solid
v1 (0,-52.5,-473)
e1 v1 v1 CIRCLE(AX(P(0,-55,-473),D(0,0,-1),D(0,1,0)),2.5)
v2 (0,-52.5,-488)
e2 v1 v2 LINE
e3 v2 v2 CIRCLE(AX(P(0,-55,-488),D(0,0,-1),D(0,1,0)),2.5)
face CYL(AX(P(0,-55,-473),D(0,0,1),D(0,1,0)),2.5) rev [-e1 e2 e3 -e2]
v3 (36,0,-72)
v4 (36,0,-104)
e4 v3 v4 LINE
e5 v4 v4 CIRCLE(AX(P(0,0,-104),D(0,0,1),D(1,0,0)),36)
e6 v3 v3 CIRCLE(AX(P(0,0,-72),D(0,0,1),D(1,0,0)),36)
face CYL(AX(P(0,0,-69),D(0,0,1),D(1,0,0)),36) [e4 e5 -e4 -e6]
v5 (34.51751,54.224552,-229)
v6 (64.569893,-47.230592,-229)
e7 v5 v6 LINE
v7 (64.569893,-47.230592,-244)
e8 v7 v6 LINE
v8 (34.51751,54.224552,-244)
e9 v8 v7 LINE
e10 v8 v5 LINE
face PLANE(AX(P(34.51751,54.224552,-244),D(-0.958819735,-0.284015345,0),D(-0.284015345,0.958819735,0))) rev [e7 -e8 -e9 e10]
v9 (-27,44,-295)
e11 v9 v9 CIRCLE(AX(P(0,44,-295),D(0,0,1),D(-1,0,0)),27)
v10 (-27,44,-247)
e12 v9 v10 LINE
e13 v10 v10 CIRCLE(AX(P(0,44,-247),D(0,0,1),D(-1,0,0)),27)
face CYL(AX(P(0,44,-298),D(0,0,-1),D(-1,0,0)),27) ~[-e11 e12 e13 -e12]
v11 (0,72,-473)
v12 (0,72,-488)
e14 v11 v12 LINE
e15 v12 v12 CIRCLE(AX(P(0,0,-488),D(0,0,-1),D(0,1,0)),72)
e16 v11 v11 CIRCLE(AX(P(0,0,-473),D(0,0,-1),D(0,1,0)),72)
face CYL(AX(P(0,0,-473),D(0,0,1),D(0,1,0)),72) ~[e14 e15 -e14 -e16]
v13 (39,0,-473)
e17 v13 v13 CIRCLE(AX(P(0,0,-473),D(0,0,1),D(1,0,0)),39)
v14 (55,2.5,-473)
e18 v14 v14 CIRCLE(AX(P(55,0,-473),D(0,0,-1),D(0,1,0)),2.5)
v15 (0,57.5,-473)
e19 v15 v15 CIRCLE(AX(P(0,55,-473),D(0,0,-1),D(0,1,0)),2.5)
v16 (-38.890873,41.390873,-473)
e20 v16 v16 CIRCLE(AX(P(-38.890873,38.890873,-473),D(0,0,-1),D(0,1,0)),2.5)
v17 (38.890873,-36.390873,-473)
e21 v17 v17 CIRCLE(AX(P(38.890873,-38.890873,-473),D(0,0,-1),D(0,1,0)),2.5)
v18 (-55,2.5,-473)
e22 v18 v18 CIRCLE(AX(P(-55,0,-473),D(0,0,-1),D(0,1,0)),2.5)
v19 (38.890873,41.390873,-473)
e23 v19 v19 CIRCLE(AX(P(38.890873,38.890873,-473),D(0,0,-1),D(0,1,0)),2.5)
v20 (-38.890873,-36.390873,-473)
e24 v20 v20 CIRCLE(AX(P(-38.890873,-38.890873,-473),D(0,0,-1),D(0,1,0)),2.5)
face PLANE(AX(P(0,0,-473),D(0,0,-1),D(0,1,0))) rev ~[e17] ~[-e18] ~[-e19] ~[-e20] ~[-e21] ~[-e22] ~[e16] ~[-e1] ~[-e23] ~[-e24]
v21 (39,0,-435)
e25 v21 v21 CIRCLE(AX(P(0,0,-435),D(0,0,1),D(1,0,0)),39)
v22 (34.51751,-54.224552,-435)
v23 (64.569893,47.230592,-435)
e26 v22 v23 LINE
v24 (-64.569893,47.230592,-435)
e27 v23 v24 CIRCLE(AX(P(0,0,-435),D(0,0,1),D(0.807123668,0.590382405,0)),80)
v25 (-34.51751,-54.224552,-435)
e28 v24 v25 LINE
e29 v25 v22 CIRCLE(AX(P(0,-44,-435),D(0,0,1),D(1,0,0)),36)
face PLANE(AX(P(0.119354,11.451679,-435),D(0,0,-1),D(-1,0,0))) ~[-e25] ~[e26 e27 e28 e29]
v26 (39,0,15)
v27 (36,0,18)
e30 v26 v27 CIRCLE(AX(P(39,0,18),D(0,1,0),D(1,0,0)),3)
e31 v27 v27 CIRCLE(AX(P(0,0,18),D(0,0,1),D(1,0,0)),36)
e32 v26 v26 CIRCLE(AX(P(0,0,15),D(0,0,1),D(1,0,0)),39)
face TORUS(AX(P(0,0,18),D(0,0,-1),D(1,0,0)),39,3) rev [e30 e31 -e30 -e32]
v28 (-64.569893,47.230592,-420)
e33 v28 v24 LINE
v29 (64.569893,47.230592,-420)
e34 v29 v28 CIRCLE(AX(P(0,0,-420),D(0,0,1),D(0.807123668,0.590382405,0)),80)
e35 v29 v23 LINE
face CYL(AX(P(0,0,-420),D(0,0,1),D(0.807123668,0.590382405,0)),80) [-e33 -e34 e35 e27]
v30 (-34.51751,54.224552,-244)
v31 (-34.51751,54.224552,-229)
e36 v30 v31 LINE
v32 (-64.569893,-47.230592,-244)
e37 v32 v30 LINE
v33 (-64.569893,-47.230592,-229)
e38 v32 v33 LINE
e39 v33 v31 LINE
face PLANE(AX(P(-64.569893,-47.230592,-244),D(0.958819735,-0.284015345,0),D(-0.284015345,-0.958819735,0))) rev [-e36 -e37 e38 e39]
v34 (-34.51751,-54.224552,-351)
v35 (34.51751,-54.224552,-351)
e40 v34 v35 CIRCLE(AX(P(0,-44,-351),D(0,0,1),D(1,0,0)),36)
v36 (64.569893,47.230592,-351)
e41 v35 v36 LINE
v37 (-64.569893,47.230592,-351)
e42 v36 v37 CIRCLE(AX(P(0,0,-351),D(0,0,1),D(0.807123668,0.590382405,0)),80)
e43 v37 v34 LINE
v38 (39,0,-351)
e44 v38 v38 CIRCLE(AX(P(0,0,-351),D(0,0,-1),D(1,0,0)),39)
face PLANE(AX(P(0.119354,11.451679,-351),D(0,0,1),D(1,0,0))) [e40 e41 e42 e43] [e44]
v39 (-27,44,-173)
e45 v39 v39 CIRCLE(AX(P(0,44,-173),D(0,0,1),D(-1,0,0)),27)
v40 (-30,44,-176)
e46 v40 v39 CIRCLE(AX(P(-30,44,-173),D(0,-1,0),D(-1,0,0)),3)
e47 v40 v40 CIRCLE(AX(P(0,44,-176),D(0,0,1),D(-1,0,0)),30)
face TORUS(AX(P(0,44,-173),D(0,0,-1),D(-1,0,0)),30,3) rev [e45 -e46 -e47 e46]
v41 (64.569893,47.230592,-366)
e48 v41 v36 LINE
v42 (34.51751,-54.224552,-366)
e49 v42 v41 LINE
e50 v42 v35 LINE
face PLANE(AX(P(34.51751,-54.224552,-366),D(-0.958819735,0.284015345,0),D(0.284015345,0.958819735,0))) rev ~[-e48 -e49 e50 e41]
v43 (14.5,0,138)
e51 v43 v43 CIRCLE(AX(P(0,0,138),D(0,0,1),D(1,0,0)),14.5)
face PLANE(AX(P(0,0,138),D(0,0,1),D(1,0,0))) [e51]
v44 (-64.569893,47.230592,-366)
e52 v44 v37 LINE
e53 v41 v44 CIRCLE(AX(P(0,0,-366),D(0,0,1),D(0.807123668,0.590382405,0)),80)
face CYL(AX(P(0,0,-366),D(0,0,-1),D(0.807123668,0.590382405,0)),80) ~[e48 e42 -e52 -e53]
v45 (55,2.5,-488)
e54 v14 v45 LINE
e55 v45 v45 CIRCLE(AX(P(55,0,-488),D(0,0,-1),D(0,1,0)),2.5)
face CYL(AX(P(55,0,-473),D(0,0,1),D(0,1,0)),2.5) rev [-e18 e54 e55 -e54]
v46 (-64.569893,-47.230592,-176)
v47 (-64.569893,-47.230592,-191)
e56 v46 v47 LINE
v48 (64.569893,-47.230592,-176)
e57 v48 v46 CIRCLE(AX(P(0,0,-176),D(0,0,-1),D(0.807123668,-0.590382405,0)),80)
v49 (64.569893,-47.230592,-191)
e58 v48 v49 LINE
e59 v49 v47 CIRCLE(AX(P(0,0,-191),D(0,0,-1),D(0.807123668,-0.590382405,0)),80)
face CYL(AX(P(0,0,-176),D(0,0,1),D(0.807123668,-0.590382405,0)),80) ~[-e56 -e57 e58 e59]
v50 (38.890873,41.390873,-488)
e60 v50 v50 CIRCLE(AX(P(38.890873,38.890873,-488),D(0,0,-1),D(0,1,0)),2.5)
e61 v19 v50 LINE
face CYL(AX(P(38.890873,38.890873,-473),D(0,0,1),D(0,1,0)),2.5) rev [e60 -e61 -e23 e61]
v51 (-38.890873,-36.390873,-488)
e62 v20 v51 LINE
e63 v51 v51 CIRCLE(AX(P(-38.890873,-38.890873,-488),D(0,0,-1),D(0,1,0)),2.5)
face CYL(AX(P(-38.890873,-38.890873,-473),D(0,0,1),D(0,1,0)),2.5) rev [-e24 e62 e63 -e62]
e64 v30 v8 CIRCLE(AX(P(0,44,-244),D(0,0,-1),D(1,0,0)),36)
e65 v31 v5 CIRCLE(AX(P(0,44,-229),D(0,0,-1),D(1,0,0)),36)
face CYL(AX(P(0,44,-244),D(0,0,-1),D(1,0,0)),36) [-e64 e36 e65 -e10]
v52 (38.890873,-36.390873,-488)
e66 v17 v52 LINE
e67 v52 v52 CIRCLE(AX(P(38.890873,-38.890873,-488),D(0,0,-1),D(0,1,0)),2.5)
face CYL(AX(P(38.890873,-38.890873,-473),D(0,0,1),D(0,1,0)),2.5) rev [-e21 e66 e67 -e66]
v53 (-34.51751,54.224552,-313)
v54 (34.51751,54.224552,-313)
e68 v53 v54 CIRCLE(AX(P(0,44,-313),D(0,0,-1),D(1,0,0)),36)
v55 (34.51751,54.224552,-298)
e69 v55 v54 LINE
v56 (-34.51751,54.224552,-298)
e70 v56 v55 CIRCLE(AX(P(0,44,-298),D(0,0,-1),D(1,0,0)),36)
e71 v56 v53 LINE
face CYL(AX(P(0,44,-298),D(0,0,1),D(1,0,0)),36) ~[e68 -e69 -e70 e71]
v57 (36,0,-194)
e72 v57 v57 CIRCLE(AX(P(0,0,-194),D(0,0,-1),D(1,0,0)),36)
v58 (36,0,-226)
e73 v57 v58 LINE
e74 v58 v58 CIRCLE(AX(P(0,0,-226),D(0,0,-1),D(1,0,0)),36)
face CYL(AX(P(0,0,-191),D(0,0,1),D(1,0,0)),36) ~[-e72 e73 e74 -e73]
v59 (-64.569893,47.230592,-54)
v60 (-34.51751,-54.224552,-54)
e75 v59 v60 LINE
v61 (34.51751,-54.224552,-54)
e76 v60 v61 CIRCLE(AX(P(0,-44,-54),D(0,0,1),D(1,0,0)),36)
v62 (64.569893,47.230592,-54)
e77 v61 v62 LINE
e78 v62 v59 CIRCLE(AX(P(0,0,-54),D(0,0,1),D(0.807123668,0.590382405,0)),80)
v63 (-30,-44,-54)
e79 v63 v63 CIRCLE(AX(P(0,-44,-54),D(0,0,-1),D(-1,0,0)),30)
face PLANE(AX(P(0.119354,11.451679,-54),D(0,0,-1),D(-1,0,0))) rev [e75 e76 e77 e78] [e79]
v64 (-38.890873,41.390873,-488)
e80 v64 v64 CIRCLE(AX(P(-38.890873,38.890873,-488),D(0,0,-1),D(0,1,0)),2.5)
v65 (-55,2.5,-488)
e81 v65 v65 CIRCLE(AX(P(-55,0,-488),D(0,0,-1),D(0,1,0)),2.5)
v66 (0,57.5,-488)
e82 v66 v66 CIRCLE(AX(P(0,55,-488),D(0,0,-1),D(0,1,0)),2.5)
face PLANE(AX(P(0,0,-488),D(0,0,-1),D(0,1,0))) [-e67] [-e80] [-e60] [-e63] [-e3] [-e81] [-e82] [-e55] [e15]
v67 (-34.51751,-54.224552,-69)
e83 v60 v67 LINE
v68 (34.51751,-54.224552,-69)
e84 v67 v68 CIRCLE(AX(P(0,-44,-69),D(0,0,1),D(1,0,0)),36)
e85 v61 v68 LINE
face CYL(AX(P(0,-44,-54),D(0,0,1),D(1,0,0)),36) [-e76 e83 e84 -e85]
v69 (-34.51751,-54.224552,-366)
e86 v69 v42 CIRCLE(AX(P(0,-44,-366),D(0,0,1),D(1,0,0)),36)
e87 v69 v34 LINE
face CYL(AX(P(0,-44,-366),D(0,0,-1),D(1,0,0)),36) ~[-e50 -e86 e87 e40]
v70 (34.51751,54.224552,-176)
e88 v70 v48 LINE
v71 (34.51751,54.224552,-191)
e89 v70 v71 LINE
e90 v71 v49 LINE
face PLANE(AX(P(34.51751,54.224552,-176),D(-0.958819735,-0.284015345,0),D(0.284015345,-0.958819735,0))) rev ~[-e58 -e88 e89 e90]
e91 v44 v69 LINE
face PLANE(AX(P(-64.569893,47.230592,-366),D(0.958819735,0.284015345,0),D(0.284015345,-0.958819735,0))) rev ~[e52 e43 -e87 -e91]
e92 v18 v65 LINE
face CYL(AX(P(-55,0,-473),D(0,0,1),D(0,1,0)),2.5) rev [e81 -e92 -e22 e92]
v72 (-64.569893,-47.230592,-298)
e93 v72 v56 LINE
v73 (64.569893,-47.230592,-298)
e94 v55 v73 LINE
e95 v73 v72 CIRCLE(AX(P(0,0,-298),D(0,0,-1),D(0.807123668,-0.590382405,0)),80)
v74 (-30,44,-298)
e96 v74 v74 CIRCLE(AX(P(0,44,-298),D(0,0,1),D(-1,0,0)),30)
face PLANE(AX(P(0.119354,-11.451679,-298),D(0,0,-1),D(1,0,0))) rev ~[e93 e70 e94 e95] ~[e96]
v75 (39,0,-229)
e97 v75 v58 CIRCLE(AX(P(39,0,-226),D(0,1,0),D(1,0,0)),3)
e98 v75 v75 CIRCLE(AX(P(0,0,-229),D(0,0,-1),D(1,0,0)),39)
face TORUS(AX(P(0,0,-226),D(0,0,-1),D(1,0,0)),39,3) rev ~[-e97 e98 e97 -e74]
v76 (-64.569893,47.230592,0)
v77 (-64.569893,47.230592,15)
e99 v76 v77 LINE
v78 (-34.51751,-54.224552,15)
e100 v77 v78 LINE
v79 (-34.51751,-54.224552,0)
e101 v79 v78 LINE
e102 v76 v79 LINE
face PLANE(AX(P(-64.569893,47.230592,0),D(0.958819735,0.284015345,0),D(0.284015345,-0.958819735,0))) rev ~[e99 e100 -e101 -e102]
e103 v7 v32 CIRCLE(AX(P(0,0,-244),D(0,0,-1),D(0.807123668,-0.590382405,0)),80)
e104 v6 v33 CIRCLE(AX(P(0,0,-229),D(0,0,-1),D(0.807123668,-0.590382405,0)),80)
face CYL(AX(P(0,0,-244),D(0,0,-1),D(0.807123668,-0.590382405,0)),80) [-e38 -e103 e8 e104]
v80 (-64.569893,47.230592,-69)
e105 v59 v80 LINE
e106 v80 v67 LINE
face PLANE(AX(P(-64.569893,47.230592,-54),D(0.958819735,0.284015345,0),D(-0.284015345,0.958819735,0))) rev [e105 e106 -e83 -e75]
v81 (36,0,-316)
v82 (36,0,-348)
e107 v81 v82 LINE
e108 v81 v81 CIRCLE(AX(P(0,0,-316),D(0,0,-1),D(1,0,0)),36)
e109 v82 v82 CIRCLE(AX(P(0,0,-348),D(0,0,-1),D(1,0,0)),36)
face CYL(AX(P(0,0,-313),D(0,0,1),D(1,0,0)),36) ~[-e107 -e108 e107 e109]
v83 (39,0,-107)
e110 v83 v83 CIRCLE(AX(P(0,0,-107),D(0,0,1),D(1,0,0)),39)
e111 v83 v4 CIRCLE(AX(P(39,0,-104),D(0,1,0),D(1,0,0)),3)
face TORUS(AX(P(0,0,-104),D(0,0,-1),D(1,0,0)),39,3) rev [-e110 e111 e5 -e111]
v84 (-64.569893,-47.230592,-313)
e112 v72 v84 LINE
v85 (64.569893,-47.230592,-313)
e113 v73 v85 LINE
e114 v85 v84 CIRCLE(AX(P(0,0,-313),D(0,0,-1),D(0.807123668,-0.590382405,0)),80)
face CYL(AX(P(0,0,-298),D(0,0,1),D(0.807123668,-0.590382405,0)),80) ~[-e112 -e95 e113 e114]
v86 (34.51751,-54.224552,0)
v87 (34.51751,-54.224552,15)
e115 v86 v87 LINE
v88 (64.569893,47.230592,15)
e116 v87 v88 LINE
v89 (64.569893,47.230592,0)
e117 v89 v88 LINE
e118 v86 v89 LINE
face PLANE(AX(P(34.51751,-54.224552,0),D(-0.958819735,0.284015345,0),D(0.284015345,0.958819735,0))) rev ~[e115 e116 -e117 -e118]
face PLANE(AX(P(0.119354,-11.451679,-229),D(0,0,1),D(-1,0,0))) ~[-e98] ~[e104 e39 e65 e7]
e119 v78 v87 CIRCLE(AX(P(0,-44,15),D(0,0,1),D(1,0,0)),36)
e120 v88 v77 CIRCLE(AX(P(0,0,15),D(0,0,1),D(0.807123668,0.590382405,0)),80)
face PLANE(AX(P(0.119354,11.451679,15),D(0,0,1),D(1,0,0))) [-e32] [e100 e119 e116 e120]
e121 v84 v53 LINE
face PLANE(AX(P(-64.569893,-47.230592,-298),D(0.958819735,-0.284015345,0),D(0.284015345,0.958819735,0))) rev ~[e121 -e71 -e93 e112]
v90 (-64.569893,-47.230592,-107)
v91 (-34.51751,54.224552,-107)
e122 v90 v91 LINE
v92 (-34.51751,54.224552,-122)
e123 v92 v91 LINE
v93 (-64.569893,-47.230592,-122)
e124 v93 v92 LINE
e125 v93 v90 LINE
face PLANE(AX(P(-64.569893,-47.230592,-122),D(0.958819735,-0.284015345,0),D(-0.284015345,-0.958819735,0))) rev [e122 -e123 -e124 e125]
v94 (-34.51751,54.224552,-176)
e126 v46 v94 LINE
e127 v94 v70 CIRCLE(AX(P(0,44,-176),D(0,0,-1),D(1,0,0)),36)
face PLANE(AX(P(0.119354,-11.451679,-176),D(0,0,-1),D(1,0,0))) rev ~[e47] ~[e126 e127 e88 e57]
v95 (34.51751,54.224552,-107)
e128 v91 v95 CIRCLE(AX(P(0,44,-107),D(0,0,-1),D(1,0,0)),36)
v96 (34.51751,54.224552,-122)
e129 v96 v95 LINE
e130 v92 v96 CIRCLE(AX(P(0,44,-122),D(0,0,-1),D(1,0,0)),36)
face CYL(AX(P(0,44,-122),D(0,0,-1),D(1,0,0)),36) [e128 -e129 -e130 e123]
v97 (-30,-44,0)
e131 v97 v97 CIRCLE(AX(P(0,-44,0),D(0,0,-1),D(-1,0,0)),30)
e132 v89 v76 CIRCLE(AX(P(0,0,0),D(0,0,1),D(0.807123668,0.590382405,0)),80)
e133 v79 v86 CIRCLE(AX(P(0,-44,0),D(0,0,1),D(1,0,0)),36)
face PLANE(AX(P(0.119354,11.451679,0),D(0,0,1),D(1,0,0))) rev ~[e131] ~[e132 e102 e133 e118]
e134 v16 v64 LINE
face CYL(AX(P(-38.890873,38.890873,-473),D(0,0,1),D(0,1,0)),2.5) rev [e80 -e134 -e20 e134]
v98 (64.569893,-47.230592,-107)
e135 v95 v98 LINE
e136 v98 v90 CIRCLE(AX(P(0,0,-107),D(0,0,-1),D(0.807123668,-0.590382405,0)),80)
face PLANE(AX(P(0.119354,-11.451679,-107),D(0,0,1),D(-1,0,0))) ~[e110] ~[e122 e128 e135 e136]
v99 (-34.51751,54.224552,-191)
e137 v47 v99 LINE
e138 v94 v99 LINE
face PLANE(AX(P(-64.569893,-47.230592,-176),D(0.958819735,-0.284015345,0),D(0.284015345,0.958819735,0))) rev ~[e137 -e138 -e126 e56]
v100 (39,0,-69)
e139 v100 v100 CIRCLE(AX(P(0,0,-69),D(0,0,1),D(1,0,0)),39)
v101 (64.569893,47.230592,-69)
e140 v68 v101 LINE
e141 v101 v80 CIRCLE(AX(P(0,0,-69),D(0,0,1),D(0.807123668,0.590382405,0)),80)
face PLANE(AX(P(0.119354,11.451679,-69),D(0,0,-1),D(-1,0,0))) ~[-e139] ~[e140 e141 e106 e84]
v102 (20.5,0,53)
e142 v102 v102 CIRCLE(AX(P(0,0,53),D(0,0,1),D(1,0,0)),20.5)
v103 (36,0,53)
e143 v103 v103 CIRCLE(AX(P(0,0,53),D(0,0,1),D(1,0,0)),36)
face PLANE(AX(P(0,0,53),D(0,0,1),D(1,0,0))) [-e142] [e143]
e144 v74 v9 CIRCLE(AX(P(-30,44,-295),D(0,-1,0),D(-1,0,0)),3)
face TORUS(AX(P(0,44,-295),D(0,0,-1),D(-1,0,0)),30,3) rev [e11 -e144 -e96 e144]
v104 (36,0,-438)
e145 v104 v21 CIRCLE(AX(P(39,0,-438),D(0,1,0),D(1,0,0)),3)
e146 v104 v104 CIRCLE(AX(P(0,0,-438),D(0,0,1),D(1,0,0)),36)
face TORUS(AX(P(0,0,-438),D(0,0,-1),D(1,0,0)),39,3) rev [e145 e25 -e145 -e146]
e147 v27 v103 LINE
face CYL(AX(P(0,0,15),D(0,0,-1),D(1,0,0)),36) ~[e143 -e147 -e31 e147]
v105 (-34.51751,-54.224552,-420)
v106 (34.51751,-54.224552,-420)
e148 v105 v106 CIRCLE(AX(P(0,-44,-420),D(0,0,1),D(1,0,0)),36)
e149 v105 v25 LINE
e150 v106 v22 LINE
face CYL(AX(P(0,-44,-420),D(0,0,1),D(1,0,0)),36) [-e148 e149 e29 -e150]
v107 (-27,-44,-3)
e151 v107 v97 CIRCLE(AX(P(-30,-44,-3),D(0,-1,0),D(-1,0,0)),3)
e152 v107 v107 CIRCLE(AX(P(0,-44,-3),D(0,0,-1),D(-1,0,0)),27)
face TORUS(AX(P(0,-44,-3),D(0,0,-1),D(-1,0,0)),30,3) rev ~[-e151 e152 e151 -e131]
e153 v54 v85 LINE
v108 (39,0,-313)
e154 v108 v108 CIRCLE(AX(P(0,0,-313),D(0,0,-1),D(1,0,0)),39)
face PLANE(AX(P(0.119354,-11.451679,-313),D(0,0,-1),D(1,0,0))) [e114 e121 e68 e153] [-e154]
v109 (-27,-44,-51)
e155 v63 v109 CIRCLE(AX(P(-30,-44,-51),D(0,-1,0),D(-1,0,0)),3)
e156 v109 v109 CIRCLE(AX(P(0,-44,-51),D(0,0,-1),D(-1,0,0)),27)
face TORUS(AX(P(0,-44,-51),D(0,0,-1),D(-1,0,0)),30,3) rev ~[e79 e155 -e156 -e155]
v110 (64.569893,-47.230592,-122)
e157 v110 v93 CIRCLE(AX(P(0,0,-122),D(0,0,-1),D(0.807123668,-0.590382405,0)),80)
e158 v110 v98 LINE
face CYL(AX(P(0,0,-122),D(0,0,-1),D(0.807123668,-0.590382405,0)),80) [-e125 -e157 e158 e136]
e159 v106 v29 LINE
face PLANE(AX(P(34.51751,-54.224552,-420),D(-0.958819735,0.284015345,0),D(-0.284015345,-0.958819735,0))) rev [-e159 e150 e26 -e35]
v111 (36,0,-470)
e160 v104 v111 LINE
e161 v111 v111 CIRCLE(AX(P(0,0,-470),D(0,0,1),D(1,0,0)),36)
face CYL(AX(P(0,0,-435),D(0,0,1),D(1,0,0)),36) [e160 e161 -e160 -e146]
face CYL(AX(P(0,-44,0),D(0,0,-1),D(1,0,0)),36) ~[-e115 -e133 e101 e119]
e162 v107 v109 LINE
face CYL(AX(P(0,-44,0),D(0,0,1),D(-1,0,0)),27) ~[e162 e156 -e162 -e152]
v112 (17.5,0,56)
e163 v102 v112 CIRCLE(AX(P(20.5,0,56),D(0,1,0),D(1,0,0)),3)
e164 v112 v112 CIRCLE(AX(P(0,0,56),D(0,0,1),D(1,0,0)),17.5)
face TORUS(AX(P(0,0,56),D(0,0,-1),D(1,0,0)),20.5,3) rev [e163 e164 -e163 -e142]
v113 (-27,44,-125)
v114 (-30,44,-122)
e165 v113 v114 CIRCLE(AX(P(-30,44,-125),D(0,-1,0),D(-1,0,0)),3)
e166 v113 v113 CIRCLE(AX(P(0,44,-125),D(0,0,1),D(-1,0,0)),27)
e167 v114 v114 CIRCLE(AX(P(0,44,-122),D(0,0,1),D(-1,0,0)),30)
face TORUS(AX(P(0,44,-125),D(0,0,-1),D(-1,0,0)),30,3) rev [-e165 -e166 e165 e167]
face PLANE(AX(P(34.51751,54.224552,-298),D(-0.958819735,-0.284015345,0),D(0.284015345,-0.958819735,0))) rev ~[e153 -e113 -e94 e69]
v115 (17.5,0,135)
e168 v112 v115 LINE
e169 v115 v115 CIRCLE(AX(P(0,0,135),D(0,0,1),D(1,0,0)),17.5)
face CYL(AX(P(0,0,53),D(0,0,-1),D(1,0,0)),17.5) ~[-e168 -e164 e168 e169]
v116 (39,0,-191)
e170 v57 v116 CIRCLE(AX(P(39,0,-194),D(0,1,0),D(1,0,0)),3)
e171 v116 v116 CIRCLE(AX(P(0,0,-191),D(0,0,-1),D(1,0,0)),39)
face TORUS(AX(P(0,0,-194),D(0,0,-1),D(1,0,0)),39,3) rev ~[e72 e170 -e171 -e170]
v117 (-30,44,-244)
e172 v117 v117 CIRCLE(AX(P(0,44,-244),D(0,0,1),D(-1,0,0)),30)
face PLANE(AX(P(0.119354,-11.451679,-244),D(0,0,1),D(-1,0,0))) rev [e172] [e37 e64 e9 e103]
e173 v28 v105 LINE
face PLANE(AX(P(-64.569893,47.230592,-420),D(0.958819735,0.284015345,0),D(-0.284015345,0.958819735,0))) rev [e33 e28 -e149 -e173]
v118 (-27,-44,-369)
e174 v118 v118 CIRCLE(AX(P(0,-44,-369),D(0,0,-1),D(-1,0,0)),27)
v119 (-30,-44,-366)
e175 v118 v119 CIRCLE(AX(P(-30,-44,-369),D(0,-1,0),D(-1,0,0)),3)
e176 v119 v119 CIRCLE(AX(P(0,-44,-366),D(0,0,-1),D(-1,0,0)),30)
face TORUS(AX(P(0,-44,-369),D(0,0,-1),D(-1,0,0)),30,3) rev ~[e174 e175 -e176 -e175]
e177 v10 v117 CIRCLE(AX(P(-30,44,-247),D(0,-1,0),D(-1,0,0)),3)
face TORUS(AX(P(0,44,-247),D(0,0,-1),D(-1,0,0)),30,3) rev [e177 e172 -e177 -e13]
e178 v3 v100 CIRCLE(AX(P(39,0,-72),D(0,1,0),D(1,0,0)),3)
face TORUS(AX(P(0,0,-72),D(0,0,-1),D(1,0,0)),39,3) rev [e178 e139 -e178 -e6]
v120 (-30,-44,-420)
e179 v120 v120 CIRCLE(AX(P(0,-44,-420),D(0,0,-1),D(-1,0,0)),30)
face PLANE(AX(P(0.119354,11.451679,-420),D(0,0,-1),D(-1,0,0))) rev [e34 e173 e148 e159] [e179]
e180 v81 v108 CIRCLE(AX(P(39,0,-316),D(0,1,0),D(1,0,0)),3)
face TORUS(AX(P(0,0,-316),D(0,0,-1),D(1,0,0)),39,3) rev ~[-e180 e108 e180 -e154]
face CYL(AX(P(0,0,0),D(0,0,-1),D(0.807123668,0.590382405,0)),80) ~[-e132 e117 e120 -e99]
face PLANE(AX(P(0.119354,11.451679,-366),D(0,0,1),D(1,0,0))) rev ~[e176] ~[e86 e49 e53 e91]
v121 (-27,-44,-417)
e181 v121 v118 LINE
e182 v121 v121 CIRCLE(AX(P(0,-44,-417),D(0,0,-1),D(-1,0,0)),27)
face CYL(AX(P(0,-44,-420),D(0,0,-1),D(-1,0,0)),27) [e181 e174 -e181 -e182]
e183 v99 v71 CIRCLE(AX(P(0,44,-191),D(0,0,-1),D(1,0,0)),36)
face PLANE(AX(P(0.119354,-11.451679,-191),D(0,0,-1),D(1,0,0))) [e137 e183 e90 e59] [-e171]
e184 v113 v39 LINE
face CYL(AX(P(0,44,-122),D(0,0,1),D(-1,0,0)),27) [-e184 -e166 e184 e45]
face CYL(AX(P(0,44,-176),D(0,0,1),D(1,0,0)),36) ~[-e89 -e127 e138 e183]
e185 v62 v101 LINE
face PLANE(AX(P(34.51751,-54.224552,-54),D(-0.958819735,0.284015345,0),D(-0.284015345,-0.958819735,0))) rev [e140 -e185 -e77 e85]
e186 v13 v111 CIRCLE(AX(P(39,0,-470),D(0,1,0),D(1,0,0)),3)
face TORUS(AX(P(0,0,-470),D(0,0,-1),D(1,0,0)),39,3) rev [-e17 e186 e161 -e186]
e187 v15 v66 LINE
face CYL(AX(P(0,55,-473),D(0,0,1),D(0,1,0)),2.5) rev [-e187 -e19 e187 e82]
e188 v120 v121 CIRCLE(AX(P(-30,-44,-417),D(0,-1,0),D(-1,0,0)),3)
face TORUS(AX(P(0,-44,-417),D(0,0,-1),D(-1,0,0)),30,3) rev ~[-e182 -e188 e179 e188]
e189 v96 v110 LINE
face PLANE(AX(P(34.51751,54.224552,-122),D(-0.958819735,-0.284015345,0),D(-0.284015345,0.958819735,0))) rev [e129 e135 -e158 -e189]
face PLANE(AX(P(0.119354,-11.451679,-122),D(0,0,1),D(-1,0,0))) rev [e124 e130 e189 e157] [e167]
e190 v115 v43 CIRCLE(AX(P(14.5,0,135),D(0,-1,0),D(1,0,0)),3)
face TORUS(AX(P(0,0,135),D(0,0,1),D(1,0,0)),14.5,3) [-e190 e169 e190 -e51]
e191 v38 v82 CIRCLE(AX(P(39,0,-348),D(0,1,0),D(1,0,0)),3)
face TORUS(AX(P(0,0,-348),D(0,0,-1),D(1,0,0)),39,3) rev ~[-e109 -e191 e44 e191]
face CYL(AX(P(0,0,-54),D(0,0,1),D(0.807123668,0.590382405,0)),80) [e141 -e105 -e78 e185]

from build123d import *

# Parameters (mm, degrees)
SKETCH1_R             = 36
BOSS_EXTRUDE1_DEPTH   = 15
SKETCH2_R             = 27
BOSS_EXTRUDE2_DEPTH   = 54
SKETCH3_R             = 36
BOSS_EXTRUDE3_DEPTH   = 38
BODY_MOVE_COPY1_ANGLE = 180
SKETCH4_R             = 17.5
BOSS_EXTRUDE4_DEPTH   = 85
SKETCH5_R             = 72
SKETCH5_R_2           = 2.5
BOSS_EXTRUDE5_DEPTH   = 15
FILLET1_R             = 3


with BuildPart() as part:
    # Sketch1 → Boss-Extrude1 (new body)
    with BuildSketch(Plane.XY):
        with BuildLine():
            ThreePointArc((64.569893475, 47.23059238), (0, 80), (-64.569893475, 47.23059238))
            Line((-64.569893475, 47.23059238), (-34.517510455, -54.224552409))
            ThreePointArc((-34.517510455, -54.224552409), (-5.165734392, -8.372550074), (36, -44))
            ThreePointArc((36, -44), (35.627449926, -49.165734392), (34.517510455, -54.224552409))
            Line((34.517510455, -54.224552409), (64.569893475, 47.23059238))
        make_face()
        with Locations((0, -44)):
            Circle(SKETCH1_R)
    boss_extrude1 = extrude(amount=BOSS_EXTRUDE1_DEPTH)

    # Sketch2 → Boss-Extrude2 (add)
    with BuildSketch(Plane(origin=(0, 0, 0), x_dir=(-1, 0, 0), z_dir=(0, 0, -1))):
        with Locations((0, -44)):
            Circle(SKETCH2_R)
    extrude(amount=BOSS_EXTRUDE2_DEPTH)

    # Sketch3 → Boss-Extrude3 (add)
    with BuildSketch(Plane.XY.offset(15)):
        Circle(SKETCH3_R)
    boss_extrude3 = extrude(amount=BOSS_EXTRUDE3_DEPTH)

    # Mirror1: Boss-Extrude1, Boss-Extrude3 across plane
    add(boss_extrude1.mirror(Plane(origin=(0, 0, -27), x_dir=(1, 0, 0), z_dir=(0, 0, -1))))
    add(boss_extrude3.mirror(Plane(origin=(0, 0, -27), x_dir=(1, 0, 0), z_dir=(0, 0, -1))))


with BuildPart() as body_2:
    # Mirror2: mirrored copy
    add(part.part.mirror(Plane(origin=(0, 0, -88), x_dir=(1, 0, 0), z_dir=(0, 0, -1))))


with BuildPart() as body_2_1:
    # Body-Move/Copy1: moved
    add(body_2.part.rotate(Axis((0, 0, -149), (1, 0, 0)), BODY_MOVE_COPY1_ANGLE))


with BuildPart() as body_3:
    # Mirror3: mirrored copy
    add(body_2_1.part.mirror(Plane(origin=(0, 0, -210), x_dir=(1, 0, 0), z_dir=(0, 0, -1))))


with BuildPart() as body_4:
    # Mirror3 2: mirrored copy
    add(part.part.mirror(Plane(origin=(0, 0, -210), x_dir=(1, 0, 0), z_dir=(0, 0, -1))))

    # Sketch5 → Boss-Extrude5 (add)
    with BuildSketch(Plane(origin=(0, 0, -473), x_dir=(-1, 0, 0), z_dir=(0, 0, -1))):
        with Locations(Location((0, 0, 0), (0, 0, 90))):
            Circle(SKETCH5_R)
        with Locations(Location((0, 55, 0), (0, 0, 90))):
            Circle(SKETCH5_R_2, mode=Mode.SUBTRACT)
        with Locations(Location((38.890872965, 38.890872965, 0), (0, 0, 90))):
            Circle(SKETCH5_R_2, mode=Mode.SUBTRACT)
        with Locations(Location((55, 0, 0), (0, 0, 90))):
            Circle(SKETCH5_R_2, mode=Mode.SUBTRACT)
        with Locations(Location((38.890872965, -38.890872965, 0), (0, 0, 90))):
            Circle(SKETCH5_R_2, mode=Mode.SUBTRACT)
        with Locations(Location((0, -55, 0), (0, 0, 90))):
            Circle(SKETCH5_R_2, mode=Mode.SUBTRACT)
        with Locations(Location((-38.890872965, -38.890872965, 0), (0, 0, 90))):
            Circle(SKETCH5_R_2, mode=Mode.SUBTRACT)
        with Locations(Location((-55, 0, 0), (0, 0, 90))):
            Circle(SKETCH5_R_2, mode=Mode.SUBTRACT)
        with Locations(Location((-38.890872965, 38.890872965, 0), (0, 0, 90))):
            Circle(SKETCH5_R_2, mode=Mode.SUBTRACT)
    extrude(amount=BOSS_EXTRUDE5_DEPTH)


with BuildPart() as part_1:
    add(part.part)

    # Sketch4 → Boss-Extrude4 (add)
    with BuildSketch(Plane.XY.offset(53)):
        Circle(SKETCH4_R)
    extrude(amount=BOSS_EXTRUDE4_DEPTH)

    # Combine1: union body 2, body 3, body 4
    add(body_2_1.part)
    add(body_3.part)
    add(body_4.part)

    # Fillet1
    fillet1_edges = [part_1.edges().sort_by_distance(p)[0] for p in [
        (27, -44, 0),
        (27, -44, -54),
        (-36, 0, 15),
        (-36, 0, -69),
        (-17.5, 0, 53),
        (-17.5, 0, 138),
        (-36, 0, -107),
        (27, 44, -122),
        (27, 44, -176),
        (-36, 0, -191),
        (27, 44, -298),
        (-36, 0, -313),
        (-36, 0, -229),
        (27, 44, -244),
        (-36, 0, -435),
        (27, -44, -420),
        (27, -44, -366),
        (-36, 0, -473),
        (-36, 0, -351),
    ]]
    fillet(fillet1_edges, radius=FILLET1_R)


solid = part_1.part
